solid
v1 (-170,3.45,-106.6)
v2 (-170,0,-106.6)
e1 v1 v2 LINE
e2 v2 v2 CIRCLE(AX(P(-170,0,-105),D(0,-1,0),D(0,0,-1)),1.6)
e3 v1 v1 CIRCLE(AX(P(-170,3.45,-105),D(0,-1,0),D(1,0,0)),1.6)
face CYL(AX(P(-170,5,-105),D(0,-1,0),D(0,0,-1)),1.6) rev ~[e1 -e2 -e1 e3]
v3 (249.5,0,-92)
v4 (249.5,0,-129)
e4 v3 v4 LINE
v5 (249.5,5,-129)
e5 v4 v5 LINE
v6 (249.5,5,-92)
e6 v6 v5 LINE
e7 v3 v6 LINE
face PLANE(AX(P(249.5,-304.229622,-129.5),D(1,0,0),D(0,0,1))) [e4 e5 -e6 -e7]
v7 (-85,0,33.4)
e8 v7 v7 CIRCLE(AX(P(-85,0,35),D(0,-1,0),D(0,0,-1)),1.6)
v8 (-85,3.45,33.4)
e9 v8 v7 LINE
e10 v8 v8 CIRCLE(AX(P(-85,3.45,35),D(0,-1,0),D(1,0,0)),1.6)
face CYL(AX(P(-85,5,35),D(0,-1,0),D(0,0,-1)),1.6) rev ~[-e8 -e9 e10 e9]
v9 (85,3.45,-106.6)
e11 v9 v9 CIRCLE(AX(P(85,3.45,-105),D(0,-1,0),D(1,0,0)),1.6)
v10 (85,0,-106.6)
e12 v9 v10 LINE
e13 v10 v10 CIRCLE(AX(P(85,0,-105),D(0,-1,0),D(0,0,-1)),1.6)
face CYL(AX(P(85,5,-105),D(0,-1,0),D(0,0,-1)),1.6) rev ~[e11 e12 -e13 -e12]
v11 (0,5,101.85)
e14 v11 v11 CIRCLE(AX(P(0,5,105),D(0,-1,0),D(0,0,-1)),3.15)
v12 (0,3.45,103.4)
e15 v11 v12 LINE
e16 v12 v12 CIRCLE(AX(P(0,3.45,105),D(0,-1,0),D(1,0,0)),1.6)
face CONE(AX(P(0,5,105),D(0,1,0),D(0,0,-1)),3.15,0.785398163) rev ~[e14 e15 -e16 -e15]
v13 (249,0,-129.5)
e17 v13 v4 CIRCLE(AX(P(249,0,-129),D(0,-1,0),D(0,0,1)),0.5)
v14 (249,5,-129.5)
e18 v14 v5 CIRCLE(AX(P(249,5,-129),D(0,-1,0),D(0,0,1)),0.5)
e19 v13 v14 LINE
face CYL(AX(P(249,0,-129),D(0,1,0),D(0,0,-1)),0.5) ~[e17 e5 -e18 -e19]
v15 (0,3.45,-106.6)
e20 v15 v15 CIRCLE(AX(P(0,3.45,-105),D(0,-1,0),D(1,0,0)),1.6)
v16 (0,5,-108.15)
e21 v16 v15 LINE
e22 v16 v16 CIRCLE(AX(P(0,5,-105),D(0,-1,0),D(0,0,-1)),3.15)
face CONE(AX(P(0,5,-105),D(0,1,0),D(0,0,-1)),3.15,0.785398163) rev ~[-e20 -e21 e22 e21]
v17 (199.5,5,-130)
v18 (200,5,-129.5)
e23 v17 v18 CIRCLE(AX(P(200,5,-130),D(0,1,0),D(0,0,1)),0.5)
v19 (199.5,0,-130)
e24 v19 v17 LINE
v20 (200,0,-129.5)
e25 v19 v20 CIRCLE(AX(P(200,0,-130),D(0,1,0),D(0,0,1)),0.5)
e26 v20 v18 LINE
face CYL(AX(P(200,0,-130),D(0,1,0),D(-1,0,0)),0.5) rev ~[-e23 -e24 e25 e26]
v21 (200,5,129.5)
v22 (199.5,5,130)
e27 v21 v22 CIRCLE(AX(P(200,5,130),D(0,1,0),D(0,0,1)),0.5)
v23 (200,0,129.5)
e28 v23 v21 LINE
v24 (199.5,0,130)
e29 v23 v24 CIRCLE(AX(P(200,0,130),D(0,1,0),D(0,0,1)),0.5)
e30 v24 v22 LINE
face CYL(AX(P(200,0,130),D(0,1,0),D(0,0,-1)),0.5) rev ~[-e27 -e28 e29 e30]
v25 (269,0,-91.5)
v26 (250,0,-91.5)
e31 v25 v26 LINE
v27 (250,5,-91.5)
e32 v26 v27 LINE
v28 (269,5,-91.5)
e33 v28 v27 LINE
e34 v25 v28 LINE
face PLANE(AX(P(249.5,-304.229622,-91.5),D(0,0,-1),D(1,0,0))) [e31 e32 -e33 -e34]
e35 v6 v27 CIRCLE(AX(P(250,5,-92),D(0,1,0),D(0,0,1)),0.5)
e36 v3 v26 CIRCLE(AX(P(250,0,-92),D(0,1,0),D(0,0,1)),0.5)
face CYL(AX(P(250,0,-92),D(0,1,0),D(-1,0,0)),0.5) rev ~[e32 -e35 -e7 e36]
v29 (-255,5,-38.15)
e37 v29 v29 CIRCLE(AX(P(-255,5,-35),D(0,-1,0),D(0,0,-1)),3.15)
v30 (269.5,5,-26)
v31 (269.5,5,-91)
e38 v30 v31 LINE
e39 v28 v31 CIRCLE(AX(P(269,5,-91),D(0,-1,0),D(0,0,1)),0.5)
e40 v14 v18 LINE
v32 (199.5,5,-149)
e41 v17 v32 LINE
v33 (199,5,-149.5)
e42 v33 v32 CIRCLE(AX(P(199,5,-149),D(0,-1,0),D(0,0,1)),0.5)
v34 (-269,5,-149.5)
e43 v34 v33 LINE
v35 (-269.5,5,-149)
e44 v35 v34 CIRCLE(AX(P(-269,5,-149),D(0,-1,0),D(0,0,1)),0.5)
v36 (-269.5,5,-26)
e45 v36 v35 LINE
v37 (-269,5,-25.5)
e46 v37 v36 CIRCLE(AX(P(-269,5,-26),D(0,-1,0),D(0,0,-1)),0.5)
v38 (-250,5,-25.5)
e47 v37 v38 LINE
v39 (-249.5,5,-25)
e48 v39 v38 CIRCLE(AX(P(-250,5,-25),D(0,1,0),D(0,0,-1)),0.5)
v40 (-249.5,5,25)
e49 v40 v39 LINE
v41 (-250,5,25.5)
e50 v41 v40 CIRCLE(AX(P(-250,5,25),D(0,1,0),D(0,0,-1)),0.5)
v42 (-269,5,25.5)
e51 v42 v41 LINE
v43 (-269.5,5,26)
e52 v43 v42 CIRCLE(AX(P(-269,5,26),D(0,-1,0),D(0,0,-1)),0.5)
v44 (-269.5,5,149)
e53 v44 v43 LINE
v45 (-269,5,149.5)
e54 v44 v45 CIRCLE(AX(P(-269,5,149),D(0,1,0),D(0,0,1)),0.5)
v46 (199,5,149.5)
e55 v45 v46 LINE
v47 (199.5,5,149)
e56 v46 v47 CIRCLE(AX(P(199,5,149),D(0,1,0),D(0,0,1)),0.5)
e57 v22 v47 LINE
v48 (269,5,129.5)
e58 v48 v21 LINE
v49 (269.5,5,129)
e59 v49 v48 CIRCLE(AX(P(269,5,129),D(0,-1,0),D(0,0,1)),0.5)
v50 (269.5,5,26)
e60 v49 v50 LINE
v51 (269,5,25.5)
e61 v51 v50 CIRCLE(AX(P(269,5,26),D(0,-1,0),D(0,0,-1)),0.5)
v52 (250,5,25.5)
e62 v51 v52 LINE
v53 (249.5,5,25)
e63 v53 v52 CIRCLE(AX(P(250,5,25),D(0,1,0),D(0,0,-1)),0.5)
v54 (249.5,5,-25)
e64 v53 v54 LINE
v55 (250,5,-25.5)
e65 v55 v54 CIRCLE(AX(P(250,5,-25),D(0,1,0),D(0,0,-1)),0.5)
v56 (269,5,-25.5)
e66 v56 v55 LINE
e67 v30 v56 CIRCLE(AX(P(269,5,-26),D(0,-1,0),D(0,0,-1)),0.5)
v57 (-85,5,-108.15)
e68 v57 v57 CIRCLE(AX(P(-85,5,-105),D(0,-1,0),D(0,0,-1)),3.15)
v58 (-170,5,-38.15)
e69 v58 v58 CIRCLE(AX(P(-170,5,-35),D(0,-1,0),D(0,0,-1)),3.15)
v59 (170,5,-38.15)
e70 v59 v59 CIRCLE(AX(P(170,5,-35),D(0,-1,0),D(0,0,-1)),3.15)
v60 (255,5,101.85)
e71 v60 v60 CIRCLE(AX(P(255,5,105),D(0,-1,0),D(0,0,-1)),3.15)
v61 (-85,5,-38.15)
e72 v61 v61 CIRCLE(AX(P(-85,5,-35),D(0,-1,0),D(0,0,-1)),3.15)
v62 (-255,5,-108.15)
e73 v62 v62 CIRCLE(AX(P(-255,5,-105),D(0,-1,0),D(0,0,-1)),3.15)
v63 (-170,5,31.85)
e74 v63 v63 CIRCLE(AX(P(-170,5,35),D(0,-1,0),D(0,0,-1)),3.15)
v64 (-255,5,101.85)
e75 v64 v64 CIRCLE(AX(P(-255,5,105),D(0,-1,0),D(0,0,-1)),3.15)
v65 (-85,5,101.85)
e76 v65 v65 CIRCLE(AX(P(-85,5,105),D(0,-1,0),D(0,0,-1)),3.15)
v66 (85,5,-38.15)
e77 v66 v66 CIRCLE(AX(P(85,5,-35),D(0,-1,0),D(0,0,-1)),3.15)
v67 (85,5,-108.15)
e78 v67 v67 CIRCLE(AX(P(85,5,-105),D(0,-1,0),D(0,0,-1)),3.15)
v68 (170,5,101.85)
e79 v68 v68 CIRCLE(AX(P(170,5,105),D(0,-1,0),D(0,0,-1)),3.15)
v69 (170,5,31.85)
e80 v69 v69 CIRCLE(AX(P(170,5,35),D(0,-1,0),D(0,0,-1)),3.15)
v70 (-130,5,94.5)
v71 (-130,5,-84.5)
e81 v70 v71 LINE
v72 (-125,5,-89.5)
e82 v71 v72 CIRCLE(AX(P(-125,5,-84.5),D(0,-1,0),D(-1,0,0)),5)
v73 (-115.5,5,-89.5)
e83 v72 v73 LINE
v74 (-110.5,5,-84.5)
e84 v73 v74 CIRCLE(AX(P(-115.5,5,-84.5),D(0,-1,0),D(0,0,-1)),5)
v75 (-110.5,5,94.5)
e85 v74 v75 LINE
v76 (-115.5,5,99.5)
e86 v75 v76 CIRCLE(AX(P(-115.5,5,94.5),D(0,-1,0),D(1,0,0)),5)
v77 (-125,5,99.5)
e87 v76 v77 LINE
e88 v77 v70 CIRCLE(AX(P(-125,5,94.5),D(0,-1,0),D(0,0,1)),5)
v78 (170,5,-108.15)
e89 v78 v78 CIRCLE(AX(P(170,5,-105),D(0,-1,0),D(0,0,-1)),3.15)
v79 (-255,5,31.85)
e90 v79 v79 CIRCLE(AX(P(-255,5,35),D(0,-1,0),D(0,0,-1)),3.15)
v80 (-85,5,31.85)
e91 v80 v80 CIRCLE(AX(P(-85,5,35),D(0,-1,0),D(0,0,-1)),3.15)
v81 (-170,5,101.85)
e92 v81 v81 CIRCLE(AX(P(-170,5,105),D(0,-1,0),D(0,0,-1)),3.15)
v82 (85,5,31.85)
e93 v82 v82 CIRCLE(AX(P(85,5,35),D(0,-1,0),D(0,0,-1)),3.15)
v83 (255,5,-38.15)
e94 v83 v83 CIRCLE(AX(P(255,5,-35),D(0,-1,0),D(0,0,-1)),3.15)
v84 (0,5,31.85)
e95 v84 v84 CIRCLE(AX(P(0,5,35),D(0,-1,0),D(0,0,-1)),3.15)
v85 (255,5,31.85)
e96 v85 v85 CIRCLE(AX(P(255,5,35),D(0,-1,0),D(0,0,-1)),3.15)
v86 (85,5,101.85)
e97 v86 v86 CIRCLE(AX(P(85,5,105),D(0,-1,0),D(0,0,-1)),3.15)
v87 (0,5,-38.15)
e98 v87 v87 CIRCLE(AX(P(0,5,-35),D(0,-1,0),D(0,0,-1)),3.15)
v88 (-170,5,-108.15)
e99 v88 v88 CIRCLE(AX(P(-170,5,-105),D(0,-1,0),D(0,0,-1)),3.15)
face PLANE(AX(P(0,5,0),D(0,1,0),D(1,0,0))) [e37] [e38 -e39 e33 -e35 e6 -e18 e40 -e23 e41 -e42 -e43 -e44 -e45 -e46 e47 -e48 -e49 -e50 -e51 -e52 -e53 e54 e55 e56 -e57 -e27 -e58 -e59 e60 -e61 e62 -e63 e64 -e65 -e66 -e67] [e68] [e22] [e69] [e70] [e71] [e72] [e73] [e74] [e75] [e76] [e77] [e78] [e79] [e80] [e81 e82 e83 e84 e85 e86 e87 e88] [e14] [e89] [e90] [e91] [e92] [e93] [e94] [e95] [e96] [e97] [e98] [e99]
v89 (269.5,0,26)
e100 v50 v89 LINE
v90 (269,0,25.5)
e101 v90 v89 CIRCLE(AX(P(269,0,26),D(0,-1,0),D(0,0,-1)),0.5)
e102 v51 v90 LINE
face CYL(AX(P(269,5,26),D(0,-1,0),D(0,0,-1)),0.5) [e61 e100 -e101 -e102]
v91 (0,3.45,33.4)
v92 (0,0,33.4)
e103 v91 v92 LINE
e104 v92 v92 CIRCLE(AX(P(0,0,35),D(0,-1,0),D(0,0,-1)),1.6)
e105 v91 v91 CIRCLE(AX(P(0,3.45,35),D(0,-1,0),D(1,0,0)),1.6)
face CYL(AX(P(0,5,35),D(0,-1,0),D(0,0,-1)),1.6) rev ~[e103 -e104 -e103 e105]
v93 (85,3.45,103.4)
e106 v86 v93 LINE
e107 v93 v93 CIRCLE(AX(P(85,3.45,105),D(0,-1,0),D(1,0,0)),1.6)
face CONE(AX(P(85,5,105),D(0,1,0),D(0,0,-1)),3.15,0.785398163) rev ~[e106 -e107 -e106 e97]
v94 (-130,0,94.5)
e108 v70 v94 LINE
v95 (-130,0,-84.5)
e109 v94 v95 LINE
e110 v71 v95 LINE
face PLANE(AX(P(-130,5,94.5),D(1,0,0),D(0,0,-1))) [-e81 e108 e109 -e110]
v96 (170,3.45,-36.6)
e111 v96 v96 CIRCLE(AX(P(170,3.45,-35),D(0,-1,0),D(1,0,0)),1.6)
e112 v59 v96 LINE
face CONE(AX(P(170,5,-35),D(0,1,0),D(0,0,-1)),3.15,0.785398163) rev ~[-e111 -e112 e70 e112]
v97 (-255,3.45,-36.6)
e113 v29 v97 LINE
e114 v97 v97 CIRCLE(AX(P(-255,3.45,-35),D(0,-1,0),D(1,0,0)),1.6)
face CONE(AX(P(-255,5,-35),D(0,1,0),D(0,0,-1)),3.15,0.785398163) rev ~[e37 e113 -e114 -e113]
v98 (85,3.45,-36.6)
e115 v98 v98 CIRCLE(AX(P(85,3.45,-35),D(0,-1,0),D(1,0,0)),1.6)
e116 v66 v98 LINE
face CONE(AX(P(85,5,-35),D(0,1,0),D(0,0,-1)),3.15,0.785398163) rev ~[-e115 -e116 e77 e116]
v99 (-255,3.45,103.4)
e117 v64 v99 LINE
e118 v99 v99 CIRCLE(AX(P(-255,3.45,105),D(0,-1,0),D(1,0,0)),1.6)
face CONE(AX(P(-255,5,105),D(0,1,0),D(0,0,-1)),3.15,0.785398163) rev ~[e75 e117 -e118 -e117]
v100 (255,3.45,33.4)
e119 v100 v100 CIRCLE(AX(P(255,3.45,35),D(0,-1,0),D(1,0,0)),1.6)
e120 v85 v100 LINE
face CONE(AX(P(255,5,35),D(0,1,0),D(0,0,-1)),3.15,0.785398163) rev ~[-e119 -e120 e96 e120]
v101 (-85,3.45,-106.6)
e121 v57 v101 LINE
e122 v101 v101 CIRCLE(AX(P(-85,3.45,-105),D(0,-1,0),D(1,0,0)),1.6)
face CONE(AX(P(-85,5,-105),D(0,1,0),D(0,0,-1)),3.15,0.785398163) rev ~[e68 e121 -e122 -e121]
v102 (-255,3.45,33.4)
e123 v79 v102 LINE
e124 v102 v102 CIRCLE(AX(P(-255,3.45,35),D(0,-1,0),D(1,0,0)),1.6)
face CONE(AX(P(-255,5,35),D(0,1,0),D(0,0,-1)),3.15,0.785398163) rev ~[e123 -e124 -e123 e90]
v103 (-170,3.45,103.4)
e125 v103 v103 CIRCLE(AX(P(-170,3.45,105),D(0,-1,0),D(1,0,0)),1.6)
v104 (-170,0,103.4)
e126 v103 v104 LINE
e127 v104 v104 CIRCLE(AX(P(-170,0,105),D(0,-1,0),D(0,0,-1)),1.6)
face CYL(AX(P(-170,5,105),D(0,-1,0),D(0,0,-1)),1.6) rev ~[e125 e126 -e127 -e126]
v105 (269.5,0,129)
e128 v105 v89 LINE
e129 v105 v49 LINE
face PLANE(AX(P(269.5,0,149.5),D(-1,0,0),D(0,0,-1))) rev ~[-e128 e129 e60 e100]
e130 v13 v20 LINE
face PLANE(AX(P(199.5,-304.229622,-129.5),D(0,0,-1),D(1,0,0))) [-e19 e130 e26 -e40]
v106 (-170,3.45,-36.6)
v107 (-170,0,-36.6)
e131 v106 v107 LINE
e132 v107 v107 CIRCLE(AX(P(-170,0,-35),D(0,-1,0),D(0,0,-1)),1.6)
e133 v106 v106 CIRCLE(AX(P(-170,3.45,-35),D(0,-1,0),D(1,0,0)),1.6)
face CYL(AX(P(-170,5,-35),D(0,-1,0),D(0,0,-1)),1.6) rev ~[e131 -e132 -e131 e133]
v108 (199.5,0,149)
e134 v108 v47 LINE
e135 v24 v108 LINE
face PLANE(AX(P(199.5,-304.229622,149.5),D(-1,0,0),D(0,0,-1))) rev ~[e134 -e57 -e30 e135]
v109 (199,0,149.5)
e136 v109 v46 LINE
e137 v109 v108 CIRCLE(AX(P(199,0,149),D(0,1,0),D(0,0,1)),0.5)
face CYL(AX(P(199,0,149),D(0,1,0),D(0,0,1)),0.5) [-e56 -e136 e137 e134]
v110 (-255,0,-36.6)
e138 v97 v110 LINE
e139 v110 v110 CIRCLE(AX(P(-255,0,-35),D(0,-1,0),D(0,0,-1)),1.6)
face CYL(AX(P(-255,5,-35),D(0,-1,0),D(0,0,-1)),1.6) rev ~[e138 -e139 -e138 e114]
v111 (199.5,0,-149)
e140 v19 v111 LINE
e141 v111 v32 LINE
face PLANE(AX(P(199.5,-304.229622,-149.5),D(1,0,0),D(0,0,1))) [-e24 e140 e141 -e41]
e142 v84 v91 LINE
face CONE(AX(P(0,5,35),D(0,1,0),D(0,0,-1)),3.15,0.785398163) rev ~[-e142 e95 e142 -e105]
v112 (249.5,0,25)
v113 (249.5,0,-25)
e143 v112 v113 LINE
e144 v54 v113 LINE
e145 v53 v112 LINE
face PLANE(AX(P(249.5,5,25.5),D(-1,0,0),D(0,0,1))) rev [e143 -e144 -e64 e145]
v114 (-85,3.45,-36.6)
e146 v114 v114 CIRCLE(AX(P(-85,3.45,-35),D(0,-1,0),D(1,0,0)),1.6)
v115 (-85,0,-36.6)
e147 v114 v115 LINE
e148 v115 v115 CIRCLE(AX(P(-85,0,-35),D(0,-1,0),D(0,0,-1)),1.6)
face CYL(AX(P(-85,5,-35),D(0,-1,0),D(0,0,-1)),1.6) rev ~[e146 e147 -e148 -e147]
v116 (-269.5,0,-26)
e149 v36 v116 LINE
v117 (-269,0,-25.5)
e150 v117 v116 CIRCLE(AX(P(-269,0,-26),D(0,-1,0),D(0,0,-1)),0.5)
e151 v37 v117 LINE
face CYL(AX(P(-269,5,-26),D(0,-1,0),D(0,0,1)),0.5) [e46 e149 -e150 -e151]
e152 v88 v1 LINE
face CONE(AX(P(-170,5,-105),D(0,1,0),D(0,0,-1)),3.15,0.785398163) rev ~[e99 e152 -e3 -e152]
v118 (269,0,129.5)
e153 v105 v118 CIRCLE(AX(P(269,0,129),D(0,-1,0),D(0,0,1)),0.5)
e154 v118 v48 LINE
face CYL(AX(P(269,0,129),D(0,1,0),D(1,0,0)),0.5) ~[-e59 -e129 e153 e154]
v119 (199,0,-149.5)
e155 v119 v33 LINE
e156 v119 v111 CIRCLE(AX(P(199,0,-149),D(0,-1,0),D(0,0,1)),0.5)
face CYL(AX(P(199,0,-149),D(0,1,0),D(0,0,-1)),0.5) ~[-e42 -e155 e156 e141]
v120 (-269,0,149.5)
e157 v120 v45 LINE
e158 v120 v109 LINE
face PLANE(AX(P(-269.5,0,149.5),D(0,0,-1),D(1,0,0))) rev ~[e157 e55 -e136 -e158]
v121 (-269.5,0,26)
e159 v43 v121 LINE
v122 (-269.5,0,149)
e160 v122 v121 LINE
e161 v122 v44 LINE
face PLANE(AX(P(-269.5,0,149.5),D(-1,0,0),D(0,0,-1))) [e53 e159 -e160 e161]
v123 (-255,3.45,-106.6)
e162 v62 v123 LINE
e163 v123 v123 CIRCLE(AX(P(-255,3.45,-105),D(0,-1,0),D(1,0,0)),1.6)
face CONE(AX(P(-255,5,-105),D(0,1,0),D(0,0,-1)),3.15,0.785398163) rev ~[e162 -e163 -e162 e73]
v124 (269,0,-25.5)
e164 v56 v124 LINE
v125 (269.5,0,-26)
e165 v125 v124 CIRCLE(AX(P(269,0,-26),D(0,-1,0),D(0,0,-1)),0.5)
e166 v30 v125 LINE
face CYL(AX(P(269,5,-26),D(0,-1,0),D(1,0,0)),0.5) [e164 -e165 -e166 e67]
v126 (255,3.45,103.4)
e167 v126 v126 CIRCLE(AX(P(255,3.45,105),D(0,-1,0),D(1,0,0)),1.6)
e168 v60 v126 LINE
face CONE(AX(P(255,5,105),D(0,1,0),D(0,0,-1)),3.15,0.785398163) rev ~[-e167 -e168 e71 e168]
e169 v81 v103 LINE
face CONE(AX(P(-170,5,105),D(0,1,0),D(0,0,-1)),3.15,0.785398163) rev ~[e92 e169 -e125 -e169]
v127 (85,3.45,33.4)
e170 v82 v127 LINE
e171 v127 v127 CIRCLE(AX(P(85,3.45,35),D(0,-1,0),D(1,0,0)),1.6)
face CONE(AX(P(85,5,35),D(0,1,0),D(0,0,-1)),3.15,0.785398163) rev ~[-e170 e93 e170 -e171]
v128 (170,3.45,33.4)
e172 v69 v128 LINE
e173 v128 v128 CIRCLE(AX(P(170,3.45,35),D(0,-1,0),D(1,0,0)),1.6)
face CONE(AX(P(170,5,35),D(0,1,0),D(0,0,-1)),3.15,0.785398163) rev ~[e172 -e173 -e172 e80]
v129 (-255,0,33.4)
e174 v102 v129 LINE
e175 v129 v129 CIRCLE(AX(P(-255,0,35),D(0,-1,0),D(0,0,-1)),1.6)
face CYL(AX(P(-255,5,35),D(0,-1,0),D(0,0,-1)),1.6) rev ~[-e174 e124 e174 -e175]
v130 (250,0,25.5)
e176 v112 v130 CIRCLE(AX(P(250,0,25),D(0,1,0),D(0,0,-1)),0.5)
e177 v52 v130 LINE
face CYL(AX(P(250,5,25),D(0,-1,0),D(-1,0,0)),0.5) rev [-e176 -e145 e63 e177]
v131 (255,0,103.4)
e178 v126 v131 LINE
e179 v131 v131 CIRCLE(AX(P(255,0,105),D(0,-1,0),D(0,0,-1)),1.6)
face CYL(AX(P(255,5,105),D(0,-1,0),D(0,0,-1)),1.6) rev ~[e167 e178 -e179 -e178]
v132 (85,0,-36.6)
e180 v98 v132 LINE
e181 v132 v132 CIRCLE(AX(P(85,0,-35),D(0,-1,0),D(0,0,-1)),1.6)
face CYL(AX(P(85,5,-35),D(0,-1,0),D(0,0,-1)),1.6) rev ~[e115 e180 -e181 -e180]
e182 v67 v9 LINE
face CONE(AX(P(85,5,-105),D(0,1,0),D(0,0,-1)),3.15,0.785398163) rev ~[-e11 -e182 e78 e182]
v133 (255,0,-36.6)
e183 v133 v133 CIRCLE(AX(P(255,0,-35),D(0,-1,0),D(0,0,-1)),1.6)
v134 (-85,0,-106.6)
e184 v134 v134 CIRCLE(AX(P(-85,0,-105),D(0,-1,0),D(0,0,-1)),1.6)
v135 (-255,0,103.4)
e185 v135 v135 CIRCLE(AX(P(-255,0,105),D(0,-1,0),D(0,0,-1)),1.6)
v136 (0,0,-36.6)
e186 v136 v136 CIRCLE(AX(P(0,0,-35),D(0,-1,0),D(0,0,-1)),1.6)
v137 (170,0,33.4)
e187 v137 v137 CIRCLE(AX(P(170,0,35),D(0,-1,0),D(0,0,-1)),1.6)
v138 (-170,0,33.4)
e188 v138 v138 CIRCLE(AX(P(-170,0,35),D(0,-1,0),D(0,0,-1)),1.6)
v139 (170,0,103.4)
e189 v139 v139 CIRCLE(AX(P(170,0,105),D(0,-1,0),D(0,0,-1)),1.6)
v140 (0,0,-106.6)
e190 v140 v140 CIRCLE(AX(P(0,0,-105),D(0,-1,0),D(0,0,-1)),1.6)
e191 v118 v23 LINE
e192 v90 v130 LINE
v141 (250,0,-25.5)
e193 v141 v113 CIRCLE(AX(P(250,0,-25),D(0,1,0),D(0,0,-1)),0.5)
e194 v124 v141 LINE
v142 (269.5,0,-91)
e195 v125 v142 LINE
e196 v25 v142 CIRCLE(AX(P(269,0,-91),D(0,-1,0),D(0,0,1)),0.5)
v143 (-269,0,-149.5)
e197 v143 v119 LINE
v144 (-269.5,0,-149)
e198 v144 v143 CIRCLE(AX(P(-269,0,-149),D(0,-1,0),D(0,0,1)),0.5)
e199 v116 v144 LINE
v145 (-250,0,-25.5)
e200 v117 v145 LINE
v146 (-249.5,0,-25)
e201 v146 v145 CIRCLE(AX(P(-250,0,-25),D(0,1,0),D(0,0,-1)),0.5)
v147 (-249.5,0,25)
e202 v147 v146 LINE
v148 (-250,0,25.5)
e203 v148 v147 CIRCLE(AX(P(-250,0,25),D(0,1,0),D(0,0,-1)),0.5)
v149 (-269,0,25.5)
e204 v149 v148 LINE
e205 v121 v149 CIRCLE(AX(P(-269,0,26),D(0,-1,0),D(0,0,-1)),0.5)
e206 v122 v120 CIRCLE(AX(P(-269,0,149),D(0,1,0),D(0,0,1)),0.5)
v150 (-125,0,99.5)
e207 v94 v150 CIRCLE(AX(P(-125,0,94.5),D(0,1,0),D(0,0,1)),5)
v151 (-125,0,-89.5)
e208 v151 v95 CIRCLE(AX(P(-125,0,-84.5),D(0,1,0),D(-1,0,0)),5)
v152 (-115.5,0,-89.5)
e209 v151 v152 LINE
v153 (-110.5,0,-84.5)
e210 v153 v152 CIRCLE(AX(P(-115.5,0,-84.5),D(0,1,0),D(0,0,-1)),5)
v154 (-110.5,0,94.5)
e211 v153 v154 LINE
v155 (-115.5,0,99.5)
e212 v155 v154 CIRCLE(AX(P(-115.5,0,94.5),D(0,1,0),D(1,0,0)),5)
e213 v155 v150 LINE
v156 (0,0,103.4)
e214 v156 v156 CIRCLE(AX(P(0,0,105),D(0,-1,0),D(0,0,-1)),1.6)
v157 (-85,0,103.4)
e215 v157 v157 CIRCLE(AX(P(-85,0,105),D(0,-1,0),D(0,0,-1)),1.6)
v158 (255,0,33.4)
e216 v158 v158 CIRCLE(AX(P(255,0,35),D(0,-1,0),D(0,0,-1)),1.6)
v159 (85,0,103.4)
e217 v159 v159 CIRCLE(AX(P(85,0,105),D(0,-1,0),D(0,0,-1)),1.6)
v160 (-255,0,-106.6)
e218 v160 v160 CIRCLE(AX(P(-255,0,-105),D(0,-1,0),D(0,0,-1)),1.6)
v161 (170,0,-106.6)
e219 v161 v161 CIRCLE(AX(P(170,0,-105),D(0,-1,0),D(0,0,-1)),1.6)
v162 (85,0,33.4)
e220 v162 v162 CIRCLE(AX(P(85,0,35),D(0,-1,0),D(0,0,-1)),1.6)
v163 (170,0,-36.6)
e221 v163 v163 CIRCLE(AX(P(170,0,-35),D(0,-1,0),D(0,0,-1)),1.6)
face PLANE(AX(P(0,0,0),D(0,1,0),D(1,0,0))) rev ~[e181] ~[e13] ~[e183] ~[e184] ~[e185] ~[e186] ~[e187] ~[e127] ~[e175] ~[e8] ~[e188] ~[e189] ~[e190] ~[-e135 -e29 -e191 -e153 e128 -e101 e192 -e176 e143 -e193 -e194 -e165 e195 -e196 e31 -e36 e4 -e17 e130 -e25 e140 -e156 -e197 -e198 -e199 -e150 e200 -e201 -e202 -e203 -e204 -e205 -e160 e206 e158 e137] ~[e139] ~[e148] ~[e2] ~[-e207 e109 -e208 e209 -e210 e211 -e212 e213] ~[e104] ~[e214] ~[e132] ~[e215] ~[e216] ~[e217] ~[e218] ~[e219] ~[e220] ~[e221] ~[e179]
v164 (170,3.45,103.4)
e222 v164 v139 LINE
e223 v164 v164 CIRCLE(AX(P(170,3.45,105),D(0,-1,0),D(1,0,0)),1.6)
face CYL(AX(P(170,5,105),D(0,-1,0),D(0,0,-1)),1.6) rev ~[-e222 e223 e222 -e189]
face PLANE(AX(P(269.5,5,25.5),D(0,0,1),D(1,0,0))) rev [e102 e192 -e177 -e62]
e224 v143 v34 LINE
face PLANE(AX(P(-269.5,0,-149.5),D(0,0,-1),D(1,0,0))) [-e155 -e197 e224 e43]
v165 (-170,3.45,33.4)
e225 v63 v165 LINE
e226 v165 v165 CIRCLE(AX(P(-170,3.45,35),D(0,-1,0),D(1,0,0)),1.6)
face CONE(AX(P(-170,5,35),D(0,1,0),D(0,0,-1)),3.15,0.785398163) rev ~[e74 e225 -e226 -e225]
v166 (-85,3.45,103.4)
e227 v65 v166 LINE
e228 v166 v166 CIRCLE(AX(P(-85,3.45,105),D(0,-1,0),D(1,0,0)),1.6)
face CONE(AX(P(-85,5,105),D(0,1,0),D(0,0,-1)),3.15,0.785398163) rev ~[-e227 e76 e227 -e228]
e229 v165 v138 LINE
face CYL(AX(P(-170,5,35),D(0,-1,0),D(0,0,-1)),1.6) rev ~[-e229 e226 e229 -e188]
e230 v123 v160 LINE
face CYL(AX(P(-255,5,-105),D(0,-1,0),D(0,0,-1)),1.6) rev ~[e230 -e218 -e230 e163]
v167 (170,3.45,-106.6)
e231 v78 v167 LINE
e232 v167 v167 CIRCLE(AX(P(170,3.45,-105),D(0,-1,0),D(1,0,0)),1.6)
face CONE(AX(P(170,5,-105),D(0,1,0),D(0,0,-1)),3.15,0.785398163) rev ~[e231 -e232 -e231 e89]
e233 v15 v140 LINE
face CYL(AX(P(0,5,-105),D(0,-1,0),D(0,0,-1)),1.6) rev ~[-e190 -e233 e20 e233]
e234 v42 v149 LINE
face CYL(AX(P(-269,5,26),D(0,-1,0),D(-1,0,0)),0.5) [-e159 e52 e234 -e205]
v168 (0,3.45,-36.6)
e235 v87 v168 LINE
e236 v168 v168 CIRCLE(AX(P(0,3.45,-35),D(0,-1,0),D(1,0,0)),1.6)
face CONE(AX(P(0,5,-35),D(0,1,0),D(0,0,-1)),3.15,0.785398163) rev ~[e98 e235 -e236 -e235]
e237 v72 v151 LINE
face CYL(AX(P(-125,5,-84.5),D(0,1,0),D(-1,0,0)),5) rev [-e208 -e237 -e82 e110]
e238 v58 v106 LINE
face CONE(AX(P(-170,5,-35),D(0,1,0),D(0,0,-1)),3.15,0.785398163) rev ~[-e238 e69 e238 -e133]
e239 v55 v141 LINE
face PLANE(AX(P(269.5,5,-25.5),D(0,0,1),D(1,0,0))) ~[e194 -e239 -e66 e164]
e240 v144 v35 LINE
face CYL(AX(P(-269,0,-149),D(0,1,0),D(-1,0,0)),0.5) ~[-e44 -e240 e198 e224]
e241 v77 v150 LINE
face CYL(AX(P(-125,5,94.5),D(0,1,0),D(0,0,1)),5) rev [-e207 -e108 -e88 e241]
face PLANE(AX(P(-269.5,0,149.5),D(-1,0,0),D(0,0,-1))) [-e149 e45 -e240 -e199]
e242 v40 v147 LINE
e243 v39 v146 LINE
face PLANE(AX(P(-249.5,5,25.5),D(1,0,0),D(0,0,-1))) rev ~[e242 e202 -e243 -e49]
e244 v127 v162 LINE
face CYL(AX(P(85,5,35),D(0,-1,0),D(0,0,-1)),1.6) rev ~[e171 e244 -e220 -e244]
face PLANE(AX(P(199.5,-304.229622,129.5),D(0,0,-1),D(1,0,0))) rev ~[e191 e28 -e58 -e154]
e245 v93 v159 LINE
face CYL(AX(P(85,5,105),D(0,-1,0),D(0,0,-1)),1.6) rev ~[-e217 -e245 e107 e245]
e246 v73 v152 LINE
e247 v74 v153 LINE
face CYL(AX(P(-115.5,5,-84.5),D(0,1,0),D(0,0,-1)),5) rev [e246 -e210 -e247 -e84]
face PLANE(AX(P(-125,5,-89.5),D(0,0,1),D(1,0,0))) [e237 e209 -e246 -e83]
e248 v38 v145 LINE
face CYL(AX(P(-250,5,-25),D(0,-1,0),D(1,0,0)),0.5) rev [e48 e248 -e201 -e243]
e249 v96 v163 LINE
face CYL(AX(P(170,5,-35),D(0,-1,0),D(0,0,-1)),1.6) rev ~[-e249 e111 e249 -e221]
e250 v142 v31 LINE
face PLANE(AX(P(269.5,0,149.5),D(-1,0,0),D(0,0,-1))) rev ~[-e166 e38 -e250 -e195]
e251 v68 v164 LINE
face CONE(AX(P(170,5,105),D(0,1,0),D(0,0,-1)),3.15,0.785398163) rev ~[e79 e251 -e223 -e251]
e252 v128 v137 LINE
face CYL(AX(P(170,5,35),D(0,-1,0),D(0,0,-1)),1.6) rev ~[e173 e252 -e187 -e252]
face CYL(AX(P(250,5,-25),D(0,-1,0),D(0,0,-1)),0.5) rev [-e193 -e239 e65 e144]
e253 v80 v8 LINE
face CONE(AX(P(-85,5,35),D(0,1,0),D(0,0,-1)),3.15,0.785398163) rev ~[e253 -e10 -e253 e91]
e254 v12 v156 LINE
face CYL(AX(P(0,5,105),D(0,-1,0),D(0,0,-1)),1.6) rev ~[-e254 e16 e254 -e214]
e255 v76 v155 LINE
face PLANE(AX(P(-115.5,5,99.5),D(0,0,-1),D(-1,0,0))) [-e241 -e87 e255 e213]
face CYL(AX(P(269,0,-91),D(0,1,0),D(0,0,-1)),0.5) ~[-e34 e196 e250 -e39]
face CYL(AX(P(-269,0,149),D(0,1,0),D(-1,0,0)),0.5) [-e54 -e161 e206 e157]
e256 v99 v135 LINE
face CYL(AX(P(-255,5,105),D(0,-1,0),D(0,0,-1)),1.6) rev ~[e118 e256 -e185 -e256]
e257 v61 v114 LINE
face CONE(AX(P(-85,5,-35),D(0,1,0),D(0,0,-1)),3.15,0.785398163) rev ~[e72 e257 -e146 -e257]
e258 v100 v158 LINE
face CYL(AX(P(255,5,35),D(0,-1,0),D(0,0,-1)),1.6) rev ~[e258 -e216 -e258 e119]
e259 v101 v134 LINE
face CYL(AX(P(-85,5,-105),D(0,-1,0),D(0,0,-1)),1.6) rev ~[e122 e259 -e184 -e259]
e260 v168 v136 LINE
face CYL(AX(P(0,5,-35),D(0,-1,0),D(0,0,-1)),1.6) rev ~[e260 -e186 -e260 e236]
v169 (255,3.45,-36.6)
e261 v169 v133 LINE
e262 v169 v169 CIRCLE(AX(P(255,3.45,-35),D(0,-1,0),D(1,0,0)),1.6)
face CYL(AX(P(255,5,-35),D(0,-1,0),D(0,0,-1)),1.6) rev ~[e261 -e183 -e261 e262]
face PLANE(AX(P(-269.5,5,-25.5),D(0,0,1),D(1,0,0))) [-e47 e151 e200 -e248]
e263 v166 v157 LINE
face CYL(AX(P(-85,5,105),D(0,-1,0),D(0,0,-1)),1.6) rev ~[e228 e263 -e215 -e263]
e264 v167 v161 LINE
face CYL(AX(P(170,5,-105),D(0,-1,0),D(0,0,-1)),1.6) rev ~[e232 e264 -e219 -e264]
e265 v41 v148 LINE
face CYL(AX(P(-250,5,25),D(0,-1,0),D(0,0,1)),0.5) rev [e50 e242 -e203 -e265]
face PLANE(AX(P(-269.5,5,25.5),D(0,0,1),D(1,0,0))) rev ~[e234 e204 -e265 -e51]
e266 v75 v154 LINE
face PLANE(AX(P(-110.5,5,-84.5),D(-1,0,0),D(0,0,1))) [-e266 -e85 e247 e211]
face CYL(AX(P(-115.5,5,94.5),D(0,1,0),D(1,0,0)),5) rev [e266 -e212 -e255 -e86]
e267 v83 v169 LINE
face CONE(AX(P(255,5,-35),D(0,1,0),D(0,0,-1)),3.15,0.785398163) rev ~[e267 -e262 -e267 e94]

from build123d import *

# Parameters (mm, degrees)
SKETCH1_W                                       = 539
SKETCH1_H                                       = 299
BOSS_EXTRUDE1_DEPTH                             = 5
SKETCH2_W                                       = 20
SKETCH2_H                                       = 51
CUT_EXTRUDE1_DEPTH                              = 309.229622197
CSK_FOR_M3_FLAT_HEAD_MACHINE_SCREW1_D           = 3.2
CSK_FOR_M3_FLAT_HEAD_MACHINE_SCREW1_CSINK_D     = 6.3
CSK_FOR_M3_FLAT_HEAD_MACHINE_SCREW1_CSINK_ANGLE = 90
LPATTERN1_COUNT                                 = 7
LPATTERN1_PITCH                                 = 85
LPATTERN1_COUNT_DIR2                            = 4
LPATTERN1_PITCH_DIR2                            = 70
CUT_EXTRUDE2_DEPTH                              = 309.229622197
CUT_EXTRUDE3_DEPTH                              = 309.229622197
CUT_EXTRUDE3_DEPTH_BACK                         = 309.229622197
SKETCH6_W                                       = 70
SKETCH6_H                                       = 20
FILLET1_R                                       = 0.5


with BuildPart() as part:
    # Sketch1 → Boss-Extrude1 (new body)
    with BuildSketch(Plane(origin=(0, 0, 0), x_dir=(1, 0, 0), z_dir=(0, 1, 0))):
        Rectangle(SKETCH1_W, SKETCH1_H)
    extrude(amount=BOSS_EXTRUDE1_DEPTH)

    # Sketch2 → Cut-Extrude1 (cut, through all)
    with BuildSketch(Plane(origin=(0, 5, 0), x_dir=(1, 0, 0), z_dir=(0, 1, 0))):
        with Locations((-259.5, 0)):
            Rectangle(SKETCH2_W, SKETCH2_H)
    cut_extrude1 = extrude(amount=-CUT_EXTRUDE1_DEPTH, mode=Mode.SUBTRACT)

    # Mirror1: Cut-Extrude1 across plane
    add(cut_extrude1.mirror(Plane(origin=(0, 0, 0), x_dir=(0, 0, 1), z_dir=(1, 0, 0))), mode=Mode.SUBTRACT)

    # CSK for M3 Flat Head Machine Screw1 (through all)
    with Locations(Plane(origin=(-255, 5, 105), x_dir=(0, 0, 1), z_dir=(0, 1, 0))):
        with Locations((0, 0)):
            csk_for_m3_flat_head_machine_screw1 = CounterSinkHole(CSK_FOR_M3_FLAT_HEAD_MACHINE_SCREW1_D / 2, CSK_FOR_M3_FLAT_HEAD_MACHINE_SCREW1_CSINK_D / 2, counter_sink_angle=CSK_FOR_M3_FLAT_HEAD_MACHINE_SCREW1_CSINK_ANGLE)

    # LPattern1: CSK for M3 Flat Head Machine Screw1 7 × 4
    with Locations(*[(i * LPATTERN1_PITCH, 0, -j * LPATTERN1_PITCH_DIR2) for i in range(LPATTERN1_COUNT) for j in range(LPATTERN1_COUNT_DIR2) if (i, j) != (0, 0)]):
        add(csk_for_m3_flat_head_machine_screw1, mode=Mode.SUBTRACT)

    # Sketch5 → Cut-Extrude2 (cut, through all)
    with BuildSketch(Plane(origin=(0, 5, 0), x_dir=(1, 0, 0), z_dir=(0, 1, 0))):
        with BuildLine():
            Line((-130, -94.5), (-130, 83.5))
            Line((-130, 83.5), (-130, 84.5))
            ThreePointArc((-130, 84.5), (-128.535533906, 88.035533906), (-125, 89.5))
            Line((-125, 89.5), (-115.5, 89.5))
            ThreePointArc((-115.5, 89.5), (-111.964466094, 88.035533906), (-110.5, 84.5))
            Line((-110.5, 84.5), (-110.5, -93.5))
            Line((-110.5, -93.5), (-110.5, -94.5))
            ThreePointArc((-110.5, -94.5), (-111.964466094, -98.035533906), (-115.5, -99.5))
            Line((-115.5, -99.5), (-125, -99.5))
            ThreePointArc((-125, -99.5), (-128.535533906, -98.035533906), (-130, -94.5))
        make_face()
    extrude(amount=-CUT_EXTRUDE2_DEPTH, mode=Mode.SUBTRACT)

    # Sketch6 → Cut-Extrude3 (cut, two sides: drawn at the far end of the back side and taken through both)
    with BuildSketch(Plane(origin=(0, 5, 0), x_dir=(1, 0, 0), z_dir=(0, 1, 0)).offset(-CUT_EXTRUDE3_DEPTH_BACK)):
        Polygon((199.5, 149.5), (199.5, 129.5), (249.5, 129.5), (249.5, 91.5), (269.5, 91.5), (269.5, 149.5), align=None)
        with Locations((234.5, -139.5)):
            Rectangle(SKETCH6_W, SKETCH6_H)
    extrude(amount=CUT_EXTRUDE3_DEPTH + CUT_EXTRUDE3_DEPTH_BACK, mode=Mode.SUBTRACT)

    # Fillet1
    fillet1_edges = [part.edges().sort_by_distance(p)[0] for p in [
        (-269.5, 2.5, 25.5),
        (-269.5, 2.5, -25.5),
        (-249.5, 2.5, -25.5),
        (-249.5, 2.5, 25.5),
        (199.5, 2.5, -149.5),
        (269.5, 2.5, -91.5),
        (249.5, 2.5, -91.5),
        (249.5, 2.5, -129.5),
        (199.5, 2.5, -129.5),
        (269.5, 2.5, 129.5),
        (199.5, 2.5, 149.5),
        (199.5, 2.5, 129.5),
        (269.5, 2.5, -25.5),
        (269.5, 2.5, 25.5),
        (249.5, 2.5, 25.5),
        (249.5, 2.5, -25.5),
        (-269.5, 2.5, -149.5),
        (-269.5, 2.5, 149.5),
    ]]
    fillet(fillet1_edges, radius=FILLET1_R)


solid = part.part
